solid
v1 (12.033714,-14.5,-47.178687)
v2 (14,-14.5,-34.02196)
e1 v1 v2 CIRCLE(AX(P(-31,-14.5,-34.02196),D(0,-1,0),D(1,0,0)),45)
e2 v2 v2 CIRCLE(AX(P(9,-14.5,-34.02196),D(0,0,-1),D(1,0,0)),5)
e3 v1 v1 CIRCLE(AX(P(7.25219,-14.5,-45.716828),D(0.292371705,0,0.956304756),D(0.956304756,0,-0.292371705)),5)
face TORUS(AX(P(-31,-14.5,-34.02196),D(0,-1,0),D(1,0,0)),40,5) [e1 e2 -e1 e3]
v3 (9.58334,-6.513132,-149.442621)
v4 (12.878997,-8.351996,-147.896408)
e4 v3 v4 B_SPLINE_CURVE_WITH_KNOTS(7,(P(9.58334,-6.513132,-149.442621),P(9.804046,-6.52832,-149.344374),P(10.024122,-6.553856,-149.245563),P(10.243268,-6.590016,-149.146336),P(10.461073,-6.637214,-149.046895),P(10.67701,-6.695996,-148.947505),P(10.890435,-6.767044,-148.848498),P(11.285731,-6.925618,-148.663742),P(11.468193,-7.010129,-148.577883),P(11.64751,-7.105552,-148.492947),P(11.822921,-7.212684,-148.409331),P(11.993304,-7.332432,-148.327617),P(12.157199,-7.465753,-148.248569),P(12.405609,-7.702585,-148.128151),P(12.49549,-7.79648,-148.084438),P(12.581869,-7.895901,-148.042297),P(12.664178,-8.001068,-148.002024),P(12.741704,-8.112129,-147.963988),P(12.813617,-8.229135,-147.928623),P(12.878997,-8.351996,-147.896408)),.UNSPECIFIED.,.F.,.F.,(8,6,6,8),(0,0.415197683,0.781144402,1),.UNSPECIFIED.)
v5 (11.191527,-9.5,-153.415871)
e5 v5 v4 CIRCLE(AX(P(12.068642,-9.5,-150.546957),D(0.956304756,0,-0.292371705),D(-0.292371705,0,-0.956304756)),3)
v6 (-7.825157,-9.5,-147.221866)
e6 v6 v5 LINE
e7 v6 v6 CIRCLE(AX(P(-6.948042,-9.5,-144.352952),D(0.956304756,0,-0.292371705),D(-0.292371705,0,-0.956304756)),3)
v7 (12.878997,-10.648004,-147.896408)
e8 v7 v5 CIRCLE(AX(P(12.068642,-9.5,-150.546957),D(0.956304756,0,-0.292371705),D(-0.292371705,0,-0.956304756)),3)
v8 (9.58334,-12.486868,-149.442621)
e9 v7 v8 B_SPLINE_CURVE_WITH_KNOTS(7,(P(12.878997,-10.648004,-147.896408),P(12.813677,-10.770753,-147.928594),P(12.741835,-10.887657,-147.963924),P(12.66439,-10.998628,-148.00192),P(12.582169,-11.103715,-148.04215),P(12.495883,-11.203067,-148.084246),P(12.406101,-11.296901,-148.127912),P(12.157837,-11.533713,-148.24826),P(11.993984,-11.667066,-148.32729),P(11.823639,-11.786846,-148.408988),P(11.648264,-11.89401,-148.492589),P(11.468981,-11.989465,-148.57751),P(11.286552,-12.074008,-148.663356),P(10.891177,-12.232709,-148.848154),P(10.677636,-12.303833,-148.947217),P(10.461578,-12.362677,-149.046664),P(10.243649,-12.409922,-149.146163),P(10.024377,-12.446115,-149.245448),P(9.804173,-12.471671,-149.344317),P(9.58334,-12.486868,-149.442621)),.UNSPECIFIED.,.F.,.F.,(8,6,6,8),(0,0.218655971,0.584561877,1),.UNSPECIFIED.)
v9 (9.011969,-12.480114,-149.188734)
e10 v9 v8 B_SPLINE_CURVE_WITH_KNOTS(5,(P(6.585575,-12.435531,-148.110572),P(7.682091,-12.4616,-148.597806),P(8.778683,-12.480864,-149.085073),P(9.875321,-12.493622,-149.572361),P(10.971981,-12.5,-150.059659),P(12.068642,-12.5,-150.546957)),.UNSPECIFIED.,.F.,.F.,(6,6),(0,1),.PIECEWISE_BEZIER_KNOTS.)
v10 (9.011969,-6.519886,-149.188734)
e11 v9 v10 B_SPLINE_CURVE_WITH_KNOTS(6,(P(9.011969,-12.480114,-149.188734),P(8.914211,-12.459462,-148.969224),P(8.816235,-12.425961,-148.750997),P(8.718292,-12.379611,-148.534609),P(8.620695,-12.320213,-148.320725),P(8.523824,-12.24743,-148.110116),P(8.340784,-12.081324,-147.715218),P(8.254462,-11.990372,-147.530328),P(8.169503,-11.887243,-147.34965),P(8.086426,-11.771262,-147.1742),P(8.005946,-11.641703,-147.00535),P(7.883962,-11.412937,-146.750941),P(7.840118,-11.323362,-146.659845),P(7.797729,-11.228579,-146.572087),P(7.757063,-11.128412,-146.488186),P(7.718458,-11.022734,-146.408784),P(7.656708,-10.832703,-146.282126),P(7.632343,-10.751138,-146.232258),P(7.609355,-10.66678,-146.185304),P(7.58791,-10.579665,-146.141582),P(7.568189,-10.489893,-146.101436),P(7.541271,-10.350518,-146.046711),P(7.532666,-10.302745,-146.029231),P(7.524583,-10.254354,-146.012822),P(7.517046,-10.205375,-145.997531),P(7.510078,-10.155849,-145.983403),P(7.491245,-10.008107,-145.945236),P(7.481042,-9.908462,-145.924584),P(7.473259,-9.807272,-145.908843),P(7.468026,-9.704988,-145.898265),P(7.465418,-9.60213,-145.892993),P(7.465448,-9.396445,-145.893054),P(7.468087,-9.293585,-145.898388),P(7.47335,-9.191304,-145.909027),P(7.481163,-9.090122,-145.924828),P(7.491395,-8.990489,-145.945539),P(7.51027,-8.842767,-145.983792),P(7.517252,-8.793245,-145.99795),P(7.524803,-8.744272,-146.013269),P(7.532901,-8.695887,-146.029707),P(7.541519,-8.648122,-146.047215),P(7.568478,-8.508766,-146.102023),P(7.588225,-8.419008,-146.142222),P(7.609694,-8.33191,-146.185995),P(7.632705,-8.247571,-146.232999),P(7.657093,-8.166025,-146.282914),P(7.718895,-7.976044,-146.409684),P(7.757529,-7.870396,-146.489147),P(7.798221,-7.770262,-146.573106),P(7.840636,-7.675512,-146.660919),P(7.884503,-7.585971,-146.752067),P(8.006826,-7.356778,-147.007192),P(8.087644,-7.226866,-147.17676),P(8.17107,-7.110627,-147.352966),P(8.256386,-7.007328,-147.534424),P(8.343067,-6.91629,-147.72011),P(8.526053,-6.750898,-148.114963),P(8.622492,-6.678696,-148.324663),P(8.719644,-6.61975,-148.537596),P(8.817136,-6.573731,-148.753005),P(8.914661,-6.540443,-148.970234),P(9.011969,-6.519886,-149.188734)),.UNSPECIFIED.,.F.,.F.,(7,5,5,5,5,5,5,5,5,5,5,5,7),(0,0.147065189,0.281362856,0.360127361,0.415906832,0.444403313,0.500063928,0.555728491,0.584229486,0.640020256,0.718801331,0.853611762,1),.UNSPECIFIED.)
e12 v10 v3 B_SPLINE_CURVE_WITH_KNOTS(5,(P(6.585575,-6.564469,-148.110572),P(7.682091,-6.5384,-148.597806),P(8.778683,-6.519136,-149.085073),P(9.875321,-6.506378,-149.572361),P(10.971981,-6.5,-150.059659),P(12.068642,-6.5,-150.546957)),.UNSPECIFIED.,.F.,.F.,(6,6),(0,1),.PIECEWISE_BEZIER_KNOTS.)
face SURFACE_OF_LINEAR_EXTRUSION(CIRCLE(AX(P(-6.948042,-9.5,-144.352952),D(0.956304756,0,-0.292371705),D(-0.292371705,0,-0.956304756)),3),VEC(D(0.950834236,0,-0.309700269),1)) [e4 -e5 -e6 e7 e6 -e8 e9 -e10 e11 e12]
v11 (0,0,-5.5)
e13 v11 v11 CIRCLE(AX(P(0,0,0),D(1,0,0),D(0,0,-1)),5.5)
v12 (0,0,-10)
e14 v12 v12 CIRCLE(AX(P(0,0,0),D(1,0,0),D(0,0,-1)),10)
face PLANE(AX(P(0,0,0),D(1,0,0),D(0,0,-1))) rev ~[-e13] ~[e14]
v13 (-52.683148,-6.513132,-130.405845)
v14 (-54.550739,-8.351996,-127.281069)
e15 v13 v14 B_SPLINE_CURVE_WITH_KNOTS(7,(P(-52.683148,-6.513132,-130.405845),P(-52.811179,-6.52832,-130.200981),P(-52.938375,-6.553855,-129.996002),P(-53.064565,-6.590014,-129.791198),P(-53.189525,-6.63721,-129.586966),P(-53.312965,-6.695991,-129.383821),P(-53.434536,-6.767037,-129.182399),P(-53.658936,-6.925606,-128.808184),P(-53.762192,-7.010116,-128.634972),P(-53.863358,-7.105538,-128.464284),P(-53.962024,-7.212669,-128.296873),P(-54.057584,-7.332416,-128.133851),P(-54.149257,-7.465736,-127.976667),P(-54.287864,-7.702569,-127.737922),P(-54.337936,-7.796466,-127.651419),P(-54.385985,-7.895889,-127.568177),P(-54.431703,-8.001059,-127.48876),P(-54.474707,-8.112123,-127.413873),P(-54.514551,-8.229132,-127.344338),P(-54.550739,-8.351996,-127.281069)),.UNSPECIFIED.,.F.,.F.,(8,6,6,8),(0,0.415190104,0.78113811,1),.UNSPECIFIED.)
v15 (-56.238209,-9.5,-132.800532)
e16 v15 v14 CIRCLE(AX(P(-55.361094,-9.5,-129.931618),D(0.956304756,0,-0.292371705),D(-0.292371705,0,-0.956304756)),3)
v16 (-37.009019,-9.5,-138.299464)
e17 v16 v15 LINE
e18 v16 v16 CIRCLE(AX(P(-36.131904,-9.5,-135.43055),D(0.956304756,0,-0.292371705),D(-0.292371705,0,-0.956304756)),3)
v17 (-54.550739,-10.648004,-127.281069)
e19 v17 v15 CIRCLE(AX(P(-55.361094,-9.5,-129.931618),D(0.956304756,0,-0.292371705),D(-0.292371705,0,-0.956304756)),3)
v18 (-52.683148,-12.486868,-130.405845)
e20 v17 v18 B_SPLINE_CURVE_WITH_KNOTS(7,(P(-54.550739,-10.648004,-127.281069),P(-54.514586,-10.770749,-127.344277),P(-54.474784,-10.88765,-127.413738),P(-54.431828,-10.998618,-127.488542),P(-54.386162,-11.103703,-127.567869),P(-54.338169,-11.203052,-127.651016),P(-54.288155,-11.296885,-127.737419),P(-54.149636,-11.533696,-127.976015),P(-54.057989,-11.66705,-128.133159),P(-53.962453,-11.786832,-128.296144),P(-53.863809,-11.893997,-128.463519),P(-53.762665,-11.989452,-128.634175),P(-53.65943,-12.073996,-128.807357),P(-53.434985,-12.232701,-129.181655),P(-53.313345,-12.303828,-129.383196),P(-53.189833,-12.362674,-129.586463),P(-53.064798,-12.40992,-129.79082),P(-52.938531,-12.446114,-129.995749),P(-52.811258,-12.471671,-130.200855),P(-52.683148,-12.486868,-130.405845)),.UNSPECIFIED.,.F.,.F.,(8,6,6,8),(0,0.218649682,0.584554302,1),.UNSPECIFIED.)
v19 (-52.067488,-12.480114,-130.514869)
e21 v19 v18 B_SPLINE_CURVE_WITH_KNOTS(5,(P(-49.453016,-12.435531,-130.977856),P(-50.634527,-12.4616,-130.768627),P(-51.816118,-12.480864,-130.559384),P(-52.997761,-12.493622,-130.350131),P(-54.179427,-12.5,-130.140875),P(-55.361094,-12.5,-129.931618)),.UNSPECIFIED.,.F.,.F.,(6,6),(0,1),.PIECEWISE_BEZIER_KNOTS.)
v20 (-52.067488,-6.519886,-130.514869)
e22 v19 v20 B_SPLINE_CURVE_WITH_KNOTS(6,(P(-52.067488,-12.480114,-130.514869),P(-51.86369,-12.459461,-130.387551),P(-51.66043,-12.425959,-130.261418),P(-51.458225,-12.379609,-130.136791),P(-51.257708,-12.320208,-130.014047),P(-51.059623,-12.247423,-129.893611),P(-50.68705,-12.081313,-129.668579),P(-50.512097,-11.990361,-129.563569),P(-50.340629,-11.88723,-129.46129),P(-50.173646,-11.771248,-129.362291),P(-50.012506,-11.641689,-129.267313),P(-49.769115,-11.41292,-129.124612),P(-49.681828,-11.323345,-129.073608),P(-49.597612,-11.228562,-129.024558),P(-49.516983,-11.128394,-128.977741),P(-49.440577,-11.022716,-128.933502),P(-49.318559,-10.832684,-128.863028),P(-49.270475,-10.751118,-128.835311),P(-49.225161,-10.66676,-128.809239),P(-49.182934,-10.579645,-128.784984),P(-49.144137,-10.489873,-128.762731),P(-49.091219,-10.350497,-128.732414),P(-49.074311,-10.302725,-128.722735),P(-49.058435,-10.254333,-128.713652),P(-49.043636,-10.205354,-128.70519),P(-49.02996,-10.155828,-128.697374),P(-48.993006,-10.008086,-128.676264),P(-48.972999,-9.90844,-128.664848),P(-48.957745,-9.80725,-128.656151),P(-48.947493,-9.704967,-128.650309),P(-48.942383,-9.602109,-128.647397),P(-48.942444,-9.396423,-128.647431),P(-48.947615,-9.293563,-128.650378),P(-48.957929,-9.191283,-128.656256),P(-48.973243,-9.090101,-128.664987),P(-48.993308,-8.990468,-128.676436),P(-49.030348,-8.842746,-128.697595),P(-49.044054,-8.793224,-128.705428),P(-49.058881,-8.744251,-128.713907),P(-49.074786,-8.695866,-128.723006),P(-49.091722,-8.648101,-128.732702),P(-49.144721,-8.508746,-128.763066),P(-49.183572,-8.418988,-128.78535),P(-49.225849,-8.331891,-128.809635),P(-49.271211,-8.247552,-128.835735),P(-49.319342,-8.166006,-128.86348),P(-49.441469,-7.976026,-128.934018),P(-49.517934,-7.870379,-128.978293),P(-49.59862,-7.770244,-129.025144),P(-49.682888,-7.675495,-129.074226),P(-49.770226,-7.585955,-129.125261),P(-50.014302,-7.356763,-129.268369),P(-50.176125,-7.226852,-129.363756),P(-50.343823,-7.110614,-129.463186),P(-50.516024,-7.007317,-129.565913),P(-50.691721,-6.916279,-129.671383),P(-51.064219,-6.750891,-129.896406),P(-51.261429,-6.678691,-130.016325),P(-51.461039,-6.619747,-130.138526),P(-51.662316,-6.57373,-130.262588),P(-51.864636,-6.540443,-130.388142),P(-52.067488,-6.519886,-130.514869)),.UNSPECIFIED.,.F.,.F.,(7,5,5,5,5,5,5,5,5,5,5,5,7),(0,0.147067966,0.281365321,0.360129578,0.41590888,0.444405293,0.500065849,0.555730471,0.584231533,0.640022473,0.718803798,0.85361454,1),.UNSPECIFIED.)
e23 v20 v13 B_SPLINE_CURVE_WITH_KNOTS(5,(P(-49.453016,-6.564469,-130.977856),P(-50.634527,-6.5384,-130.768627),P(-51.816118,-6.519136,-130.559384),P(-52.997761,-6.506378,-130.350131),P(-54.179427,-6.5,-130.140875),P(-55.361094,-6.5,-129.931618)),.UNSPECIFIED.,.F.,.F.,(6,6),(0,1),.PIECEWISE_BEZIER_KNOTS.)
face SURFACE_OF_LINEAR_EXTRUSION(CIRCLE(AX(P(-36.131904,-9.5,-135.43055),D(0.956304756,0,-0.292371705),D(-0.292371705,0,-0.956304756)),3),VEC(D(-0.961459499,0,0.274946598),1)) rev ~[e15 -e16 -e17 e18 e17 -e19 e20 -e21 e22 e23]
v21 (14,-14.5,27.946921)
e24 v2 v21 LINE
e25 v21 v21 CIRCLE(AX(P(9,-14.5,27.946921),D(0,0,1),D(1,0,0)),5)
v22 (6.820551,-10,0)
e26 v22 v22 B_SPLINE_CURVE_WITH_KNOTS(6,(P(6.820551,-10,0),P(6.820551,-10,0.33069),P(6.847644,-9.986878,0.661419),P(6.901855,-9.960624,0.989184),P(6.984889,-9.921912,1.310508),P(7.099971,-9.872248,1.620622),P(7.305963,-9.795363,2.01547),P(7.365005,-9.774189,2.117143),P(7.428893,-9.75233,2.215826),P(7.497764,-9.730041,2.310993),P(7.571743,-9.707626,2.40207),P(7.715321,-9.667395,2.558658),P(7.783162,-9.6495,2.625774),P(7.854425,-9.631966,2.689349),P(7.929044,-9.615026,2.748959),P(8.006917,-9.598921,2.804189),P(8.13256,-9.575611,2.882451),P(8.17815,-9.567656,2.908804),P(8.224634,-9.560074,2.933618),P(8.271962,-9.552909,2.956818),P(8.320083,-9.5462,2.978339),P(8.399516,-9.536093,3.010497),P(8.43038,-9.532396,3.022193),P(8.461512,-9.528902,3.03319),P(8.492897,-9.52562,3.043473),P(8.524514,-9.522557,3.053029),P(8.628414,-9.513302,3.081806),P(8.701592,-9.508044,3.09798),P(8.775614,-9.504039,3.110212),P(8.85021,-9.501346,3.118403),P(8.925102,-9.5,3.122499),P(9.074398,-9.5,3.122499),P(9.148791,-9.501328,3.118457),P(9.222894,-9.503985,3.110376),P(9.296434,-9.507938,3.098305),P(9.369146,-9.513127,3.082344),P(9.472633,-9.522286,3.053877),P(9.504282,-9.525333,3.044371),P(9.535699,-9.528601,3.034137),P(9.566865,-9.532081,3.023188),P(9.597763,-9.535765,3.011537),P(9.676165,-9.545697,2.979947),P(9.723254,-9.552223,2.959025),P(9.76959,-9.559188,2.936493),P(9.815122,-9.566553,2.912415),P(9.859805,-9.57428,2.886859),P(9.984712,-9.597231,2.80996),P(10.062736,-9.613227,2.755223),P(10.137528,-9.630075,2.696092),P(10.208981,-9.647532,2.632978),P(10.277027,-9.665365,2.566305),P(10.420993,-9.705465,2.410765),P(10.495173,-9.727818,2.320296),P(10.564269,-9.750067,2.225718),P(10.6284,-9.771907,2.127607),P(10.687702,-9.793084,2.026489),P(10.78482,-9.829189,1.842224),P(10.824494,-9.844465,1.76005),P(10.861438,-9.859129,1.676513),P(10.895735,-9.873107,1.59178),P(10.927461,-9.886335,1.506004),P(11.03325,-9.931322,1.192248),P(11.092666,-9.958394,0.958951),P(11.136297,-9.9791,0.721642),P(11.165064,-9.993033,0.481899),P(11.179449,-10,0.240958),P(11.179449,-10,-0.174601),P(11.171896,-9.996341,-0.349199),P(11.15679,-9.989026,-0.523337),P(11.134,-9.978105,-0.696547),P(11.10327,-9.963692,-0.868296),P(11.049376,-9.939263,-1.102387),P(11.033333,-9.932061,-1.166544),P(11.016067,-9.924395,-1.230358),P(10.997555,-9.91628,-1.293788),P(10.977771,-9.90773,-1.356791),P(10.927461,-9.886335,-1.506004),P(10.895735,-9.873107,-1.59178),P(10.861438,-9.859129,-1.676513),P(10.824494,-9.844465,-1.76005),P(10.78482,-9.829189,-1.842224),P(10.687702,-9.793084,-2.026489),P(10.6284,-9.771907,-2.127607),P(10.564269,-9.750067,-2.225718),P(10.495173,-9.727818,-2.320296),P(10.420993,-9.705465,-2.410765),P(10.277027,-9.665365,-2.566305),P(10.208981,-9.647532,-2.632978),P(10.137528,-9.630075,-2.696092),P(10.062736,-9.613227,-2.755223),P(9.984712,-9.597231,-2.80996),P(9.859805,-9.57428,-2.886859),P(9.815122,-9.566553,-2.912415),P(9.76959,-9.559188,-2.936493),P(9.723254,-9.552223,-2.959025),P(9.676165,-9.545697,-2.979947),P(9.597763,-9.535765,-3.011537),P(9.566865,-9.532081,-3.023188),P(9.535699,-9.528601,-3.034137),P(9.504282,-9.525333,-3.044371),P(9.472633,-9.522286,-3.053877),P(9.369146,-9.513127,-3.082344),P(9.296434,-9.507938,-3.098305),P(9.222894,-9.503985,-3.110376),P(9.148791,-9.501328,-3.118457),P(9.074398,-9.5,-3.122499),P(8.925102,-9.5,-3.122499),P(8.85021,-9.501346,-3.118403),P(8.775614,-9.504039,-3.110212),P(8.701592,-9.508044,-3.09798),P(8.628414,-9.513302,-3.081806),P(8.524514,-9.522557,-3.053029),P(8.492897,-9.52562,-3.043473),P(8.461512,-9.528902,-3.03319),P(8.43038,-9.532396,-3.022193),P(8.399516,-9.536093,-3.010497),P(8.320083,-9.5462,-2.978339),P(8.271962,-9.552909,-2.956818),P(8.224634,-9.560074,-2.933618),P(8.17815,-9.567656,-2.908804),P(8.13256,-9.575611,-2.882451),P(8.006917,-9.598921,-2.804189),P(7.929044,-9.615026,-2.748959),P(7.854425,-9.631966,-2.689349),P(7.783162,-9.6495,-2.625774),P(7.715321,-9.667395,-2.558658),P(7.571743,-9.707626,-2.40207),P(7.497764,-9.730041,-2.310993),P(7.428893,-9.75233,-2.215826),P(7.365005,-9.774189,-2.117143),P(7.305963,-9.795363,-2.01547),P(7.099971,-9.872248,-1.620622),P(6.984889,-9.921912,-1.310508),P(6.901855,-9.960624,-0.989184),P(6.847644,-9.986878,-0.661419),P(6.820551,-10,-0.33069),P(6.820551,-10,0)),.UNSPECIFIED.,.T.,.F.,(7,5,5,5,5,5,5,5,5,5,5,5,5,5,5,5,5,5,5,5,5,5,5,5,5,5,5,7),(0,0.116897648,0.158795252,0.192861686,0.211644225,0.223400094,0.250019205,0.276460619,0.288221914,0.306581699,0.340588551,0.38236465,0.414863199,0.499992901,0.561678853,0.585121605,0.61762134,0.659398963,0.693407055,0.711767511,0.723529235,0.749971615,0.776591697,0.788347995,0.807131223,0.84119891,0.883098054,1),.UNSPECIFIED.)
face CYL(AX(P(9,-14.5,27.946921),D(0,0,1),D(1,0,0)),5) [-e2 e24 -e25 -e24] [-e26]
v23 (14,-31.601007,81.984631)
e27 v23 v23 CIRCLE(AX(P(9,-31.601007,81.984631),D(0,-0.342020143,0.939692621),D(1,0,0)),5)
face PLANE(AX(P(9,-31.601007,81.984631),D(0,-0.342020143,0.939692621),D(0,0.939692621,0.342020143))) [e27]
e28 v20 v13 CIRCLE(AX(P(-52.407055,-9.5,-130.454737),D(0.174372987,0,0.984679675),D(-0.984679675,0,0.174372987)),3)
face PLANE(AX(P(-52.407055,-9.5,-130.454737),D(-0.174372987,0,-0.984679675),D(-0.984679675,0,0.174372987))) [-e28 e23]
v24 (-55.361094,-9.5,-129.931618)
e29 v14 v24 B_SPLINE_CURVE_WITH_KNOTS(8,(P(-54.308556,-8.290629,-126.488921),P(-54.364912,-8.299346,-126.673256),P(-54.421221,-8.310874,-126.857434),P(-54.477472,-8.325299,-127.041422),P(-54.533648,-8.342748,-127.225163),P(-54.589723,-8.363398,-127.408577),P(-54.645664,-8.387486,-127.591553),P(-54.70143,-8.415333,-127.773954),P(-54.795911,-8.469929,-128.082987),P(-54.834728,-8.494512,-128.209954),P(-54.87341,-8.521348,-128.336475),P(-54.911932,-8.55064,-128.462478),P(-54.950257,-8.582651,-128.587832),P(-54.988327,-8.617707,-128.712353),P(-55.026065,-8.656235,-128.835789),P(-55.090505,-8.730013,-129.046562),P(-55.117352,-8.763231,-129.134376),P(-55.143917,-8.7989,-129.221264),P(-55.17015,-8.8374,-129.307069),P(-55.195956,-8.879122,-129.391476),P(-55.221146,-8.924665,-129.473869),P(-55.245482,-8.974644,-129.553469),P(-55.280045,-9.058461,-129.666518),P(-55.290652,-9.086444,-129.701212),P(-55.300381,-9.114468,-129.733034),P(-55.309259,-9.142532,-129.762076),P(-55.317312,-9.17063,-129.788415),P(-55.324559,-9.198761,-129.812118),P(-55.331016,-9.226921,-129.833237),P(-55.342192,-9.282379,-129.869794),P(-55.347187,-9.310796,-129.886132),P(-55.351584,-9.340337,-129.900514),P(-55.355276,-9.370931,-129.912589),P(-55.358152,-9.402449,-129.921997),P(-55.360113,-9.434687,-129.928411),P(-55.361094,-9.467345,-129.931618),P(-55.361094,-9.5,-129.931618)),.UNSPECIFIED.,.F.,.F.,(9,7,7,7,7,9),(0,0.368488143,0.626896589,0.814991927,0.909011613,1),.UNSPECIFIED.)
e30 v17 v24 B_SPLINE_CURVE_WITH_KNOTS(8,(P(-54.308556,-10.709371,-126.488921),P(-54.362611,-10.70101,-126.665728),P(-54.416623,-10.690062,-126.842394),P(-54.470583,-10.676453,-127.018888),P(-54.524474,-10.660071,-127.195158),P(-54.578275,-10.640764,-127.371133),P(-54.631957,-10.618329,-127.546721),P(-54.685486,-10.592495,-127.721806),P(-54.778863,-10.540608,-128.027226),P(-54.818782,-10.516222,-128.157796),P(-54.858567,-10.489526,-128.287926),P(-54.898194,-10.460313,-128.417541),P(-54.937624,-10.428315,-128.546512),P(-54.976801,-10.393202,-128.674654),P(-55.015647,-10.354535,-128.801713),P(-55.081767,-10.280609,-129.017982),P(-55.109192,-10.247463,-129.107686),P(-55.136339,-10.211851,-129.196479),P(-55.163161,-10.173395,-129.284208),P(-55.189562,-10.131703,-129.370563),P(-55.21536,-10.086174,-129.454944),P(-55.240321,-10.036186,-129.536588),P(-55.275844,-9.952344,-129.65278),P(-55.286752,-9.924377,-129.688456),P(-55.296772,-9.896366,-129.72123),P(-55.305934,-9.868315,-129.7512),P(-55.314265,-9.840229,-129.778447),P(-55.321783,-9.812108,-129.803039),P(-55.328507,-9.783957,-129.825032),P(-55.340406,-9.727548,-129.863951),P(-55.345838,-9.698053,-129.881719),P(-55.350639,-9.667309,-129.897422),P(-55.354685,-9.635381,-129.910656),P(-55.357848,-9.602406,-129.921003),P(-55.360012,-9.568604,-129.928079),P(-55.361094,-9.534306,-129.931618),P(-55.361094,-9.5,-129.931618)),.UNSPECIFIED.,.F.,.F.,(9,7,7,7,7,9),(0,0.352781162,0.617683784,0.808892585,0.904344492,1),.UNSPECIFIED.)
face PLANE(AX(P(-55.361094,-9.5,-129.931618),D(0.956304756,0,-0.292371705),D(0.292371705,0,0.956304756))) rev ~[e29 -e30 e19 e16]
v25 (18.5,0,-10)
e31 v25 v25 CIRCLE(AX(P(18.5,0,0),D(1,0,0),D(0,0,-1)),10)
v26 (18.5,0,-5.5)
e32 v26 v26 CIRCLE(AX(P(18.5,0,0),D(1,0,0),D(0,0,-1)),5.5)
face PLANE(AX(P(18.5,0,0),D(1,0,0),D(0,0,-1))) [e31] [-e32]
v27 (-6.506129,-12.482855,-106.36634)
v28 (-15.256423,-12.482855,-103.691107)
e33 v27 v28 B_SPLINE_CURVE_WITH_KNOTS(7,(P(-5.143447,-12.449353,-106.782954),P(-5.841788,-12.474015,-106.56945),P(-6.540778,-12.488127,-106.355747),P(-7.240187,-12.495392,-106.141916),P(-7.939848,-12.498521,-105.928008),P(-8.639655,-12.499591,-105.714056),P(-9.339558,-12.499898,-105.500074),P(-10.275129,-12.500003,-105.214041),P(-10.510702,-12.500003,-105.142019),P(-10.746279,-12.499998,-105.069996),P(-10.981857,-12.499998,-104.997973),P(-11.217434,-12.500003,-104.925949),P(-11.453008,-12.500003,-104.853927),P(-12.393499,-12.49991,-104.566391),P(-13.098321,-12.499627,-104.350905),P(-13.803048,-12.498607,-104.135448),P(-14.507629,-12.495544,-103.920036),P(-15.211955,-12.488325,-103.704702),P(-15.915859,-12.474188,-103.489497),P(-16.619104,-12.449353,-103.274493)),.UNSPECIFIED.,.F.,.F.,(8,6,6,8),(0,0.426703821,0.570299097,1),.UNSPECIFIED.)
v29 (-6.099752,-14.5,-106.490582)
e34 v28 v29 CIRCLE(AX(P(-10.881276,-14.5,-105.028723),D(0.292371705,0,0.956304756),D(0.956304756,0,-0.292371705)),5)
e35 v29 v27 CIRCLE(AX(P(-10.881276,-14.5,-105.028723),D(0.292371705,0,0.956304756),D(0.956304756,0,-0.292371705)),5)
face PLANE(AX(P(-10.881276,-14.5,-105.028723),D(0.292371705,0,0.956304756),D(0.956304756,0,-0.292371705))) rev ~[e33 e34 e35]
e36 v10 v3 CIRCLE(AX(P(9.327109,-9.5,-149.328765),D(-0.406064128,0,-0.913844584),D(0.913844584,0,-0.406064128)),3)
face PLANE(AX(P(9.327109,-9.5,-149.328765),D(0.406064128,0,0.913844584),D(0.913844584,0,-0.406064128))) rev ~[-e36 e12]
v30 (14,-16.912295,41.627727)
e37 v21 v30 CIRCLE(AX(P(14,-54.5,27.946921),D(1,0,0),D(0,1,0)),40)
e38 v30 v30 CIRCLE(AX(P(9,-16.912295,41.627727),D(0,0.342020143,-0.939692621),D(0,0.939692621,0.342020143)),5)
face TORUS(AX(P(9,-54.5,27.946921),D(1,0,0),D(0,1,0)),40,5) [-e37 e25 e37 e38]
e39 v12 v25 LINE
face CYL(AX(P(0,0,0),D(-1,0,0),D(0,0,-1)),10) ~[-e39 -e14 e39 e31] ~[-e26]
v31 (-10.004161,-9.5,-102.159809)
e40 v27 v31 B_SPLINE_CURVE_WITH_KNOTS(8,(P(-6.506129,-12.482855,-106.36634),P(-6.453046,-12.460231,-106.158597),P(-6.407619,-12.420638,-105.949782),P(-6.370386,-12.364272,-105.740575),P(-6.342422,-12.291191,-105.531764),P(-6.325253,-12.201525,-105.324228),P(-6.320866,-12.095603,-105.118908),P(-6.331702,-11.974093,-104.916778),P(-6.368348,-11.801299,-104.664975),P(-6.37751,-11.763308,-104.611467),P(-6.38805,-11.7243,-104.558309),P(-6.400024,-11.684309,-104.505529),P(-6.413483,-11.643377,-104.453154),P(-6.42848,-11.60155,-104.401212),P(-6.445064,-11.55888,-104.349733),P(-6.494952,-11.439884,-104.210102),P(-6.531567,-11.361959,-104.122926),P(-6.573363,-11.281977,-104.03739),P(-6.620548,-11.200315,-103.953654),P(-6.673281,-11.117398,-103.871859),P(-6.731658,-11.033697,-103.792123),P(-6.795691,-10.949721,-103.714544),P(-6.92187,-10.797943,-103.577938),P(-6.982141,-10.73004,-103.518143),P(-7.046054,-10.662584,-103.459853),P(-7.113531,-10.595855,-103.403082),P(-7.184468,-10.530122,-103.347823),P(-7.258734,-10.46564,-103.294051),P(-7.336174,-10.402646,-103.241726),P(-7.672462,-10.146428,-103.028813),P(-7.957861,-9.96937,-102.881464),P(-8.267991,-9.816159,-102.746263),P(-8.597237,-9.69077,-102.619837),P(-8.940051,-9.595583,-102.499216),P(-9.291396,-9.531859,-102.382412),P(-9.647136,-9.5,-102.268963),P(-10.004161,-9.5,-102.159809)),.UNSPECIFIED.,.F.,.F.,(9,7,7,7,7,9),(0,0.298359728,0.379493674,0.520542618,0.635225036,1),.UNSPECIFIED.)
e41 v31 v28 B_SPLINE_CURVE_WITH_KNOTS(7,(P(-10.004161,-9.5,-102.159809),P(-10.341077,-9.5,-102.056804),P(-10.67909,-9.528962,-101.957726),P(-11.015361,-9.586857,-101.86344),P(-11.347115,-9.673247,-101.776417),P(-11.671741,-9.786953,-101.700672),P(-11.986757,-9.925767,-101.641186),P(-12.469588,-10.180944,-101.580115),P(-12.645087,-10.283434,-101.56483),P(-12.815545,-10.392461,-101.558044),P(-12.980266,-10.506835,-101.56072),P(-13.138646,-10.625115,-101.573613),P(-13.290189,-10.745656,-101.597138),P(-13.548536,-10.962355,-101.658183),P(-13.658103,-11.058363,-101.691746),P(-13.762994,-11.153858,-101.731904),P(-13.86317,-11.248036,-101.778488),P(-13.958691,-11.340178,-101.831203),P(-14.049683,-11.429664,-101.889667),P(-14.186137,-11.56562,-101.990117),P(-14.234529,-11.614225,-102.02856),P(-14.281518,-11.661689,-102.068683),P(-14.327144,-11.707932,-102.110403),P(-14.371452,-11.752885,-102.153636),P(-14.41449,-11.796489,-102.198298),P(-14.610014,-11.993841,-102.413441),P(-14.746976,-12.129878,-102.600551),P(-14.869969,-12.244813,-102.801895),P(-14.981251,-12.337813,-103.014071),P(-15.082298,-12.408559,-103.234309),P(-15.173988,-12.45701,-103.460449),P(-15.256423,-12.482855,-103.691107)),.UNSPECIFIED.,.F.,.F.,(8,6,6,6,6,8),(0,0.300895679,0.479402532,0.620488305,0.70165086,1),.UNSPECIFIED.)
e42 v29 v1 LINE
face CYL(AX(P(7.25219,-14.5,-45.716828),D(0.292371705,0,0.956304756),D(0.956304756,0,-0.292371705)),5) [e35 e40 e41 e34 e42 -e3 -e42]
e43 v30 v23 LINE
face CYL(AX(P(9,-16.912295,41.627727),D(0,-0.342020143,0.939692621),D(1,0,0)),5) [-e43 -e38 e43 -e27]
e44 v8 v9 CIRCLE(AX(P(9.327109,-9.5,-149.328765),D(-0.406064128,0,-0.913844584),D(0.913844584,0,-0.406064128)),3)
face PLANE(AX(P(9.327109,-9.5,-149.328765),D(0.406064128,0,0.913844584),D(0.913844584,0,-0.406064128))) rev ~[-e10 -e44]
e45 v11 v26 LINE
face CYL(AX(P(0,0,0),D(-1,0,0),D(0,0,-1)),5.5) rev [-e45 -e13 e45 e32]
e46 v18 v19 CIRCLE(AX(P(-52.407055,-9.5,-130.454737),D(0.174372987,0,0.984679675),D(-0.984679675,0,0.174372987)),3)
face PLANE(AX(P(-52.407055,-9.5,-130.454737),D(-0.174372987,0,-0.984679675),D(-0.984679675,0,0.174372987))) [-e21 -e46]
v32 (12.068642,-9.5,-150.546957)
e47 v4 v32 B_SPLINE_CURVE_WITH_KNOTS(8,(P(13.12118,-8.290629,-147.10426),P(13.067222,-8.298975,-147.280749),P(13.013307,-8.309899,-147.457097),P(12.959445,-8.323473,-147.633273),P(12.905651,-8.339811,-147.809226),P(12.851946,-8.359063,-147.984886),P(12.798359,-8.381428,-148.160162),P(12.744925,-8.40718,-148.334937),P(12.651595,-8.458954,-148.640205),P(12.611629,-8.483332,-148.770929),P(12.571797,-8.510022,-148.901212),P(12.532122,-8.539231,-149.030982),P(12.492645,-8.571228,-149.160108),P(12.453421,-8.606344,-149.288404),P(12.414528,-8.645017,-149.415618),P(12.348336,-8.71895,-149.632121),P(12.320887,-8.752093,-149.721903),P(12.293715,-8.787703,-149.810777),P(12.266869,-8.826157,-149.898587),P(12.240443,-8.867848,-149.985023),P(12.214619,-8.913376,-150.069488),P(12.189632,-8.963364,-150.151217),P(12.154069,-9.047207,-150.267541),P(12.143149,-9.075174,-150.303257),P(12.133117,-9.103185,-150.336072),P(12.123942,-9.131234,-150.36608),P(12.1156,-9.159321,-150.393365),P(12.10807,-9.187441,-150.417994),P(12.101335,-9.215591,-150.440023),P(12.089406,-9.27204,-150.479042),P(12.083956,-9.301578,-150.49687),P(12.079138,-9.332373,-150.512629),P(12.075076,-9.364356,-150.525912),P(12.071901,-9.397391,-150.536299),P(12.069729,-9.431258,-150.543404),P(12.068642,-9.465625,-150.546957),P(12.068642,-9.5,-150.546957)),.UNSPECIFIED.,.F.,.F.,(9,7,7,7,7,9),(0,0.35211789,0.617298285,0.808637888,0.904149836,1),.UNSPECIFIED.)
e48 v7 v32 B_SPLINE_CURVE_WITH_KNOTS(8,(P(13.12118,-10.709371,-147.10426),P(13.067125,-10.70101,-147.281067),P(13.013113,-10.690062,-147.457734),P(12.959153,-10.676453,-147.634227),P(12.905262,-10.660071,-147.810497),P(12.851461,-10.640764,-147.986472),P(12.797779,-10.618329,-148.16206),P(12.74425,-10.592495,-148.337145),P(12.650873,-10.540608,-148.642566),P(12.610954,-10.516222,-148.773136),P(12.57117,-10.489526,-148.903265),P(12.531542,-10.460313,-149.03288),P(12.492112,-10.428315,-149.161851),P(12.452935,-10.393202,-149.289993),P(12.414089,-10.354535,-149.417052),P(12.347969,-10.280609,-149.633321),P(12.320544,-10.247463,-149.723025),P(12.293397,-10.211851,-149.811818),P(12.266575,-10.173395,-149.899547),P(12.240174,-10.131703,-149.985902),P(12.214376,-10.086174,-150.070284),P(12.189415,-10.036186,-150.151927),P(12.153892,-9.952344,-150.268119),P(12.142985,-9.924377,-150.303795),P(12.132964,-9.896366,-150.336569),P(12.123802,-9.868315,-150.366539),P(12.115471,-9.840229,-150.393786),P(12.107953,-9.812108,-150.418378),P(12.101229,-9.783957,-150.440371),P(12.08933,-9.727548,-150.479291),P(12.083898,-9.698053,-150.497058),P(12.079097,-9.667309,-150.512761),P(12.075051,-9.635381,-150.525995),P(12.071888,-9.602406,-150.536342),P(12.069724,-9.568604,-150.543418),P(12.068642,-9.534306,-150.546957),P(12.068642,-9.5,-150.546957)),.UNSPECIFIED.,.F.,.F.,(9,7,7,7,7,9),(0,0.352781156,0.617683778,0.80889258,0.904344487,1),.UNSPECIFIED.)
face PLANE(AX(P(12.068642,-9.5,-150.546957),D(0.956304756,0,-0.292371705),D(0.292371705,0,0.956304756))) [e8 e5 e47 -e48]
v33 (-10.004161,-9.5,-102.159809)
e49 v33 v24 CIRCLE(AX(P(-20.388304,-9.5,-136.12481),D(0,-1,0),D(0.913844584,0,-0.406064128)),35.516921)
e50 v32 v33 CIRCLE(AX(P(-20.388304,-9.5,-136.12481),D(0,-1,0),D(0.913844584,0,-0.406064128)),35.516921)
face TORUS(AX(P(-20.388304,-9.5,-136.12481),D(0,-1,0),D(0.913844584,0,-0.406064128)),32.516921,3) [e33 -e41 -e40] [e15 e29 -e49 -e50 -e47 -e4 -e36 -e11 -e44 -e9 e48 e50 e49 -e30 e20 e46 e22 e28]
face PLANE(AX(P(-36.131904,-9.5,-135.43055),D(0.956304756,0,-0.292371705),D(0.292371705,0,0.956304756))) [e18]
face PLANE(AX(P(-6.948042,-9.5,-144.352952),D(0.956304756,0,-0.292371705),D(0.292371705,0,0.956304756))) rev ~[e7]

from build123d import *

# Parameters (mm, degrees)
SKETCH_1_R      = 10
SKETCH_1_R_2    = 5.5
EXTRUDE_1_DEPTH = 18.5
SKETCH_4_R      = 5
SKETCH_6_R      = 3
SKETCH_8_R      = 3
SKETCH_10_R     = 3


with BuildPart() as part:
    # Эскиз1 → Бобышка-Вытянуть1 (new body)
    with BuildSketch(Plane(origin=(0, 0, 0), x_dir=(0, 0, -1), z_dir=(1, 0, 0))):
        Circle(SKETCH_1_R)
        Circle(SKETCH_1_R_2, mode=Mode.SUBTRACT)
    extrude(amount=EXTRUDE_1_DEPTH)

    # По траектории1: sweep along a curve in space
    with BuildLine() as sweep_1_path:
        Line((9, -16.912295169, 41.627726505), (9, -31.601007166, 81.984631039))
        ThreePointArc((9, -14.5, 27.946920772), (9, -15.10768988, 34.892847878), (9, -16.912295169, 41.627726505))
        Line((9, -14.5, 27.946920772), (9, -14.5, -34.021959946))
        ThreePointArc((9, -14.5, -34.021959946), (8.560634534, -14.5, -39.934336391), (7.252190239, -14.5, -45.716828135))
        Line((7.252190239, -14.5, -45.716828135), (-10.881275921, -14.5, -105.028723405))
    # Эскиз4 → По траектории1 (sweep)
    with BuildSketch(Plane.XY):
        with Locations((9, -14.5)):
            Circle(SKETCH_4_R)
    sweep(path=sweep_1_path.line)

    # По траектории2: sweep along a path in Эскиз5
    with BuildLine(Plane(origin=(0, -9.5, 0), x_dir=(1, 0, 0), z_dir=(0, 1, 0))) as sweep_2_path:
        ThreePointArc((9.327108594, 149.328764781), (-10.881275921, 105.028723405), (-52.407054726, 130.45473696))
    # Эскиз6 → По траектории2 (sweep)
    with BuildSketch(Plane(origin=(-52.407054726, -9.5, -130.45473696), x_dir=(-0.984679674516163, 0, 0.17437298699839734), z_dir=(-0.17437298699839734, 0, -0.984679674516163))):
        Circle(SKETCH_6_R)
    sweep(path=sweep_2_path.line)

    # По траектории4: sweep along a path in Эскиз7
    with BuildLine(Plane(origin=(0, -9.5, 0), x_dir=(1, 0, 0), z_dir=(0, 1, 0))) as sweep_4_path:
        Line((-6.948042364, 144.352951788), (12.068642346, 150.546957166))
    # Эскиз8 → По траектории4 (sweep)
    with BuildSketch(Plane(origin=(-6.948042364, -9.5, -144.352951788), x_dir=(-0.2923717047227386, 0, -0.9563047559630349), z_dir=(0.9563047559630349, 0, -0.2923717047227386))):
        Circle(SKETCH_8_R)
    sweep(path=sweep_4_path.line)

    # По траектории5: sweep along a path in Эскиз9
    with BuildLine(Plane(origin=(0, -9.5, 0), x_dir=(1, 0, 0), z_dir=(0, 1, 0))) as sweep_5_path:
        Line((-36.131903768, 135.430549953), (-55.36109375, 129.931617999))
    # Эскиз10 → По траектории5 (sweep)
    with BuildSketch(Plane(origin=(-36.131903768, -9.5, -135.430549953), x_dir=(-0.2923717047227386, 0, -0.9563047559630349), z_dir=(0.9563047559630349, 0, -0.2923717047227386))):
        Circle(SKETCH_10_R)
    sweep(path=sweep_5_path.line)


solid = part.part
